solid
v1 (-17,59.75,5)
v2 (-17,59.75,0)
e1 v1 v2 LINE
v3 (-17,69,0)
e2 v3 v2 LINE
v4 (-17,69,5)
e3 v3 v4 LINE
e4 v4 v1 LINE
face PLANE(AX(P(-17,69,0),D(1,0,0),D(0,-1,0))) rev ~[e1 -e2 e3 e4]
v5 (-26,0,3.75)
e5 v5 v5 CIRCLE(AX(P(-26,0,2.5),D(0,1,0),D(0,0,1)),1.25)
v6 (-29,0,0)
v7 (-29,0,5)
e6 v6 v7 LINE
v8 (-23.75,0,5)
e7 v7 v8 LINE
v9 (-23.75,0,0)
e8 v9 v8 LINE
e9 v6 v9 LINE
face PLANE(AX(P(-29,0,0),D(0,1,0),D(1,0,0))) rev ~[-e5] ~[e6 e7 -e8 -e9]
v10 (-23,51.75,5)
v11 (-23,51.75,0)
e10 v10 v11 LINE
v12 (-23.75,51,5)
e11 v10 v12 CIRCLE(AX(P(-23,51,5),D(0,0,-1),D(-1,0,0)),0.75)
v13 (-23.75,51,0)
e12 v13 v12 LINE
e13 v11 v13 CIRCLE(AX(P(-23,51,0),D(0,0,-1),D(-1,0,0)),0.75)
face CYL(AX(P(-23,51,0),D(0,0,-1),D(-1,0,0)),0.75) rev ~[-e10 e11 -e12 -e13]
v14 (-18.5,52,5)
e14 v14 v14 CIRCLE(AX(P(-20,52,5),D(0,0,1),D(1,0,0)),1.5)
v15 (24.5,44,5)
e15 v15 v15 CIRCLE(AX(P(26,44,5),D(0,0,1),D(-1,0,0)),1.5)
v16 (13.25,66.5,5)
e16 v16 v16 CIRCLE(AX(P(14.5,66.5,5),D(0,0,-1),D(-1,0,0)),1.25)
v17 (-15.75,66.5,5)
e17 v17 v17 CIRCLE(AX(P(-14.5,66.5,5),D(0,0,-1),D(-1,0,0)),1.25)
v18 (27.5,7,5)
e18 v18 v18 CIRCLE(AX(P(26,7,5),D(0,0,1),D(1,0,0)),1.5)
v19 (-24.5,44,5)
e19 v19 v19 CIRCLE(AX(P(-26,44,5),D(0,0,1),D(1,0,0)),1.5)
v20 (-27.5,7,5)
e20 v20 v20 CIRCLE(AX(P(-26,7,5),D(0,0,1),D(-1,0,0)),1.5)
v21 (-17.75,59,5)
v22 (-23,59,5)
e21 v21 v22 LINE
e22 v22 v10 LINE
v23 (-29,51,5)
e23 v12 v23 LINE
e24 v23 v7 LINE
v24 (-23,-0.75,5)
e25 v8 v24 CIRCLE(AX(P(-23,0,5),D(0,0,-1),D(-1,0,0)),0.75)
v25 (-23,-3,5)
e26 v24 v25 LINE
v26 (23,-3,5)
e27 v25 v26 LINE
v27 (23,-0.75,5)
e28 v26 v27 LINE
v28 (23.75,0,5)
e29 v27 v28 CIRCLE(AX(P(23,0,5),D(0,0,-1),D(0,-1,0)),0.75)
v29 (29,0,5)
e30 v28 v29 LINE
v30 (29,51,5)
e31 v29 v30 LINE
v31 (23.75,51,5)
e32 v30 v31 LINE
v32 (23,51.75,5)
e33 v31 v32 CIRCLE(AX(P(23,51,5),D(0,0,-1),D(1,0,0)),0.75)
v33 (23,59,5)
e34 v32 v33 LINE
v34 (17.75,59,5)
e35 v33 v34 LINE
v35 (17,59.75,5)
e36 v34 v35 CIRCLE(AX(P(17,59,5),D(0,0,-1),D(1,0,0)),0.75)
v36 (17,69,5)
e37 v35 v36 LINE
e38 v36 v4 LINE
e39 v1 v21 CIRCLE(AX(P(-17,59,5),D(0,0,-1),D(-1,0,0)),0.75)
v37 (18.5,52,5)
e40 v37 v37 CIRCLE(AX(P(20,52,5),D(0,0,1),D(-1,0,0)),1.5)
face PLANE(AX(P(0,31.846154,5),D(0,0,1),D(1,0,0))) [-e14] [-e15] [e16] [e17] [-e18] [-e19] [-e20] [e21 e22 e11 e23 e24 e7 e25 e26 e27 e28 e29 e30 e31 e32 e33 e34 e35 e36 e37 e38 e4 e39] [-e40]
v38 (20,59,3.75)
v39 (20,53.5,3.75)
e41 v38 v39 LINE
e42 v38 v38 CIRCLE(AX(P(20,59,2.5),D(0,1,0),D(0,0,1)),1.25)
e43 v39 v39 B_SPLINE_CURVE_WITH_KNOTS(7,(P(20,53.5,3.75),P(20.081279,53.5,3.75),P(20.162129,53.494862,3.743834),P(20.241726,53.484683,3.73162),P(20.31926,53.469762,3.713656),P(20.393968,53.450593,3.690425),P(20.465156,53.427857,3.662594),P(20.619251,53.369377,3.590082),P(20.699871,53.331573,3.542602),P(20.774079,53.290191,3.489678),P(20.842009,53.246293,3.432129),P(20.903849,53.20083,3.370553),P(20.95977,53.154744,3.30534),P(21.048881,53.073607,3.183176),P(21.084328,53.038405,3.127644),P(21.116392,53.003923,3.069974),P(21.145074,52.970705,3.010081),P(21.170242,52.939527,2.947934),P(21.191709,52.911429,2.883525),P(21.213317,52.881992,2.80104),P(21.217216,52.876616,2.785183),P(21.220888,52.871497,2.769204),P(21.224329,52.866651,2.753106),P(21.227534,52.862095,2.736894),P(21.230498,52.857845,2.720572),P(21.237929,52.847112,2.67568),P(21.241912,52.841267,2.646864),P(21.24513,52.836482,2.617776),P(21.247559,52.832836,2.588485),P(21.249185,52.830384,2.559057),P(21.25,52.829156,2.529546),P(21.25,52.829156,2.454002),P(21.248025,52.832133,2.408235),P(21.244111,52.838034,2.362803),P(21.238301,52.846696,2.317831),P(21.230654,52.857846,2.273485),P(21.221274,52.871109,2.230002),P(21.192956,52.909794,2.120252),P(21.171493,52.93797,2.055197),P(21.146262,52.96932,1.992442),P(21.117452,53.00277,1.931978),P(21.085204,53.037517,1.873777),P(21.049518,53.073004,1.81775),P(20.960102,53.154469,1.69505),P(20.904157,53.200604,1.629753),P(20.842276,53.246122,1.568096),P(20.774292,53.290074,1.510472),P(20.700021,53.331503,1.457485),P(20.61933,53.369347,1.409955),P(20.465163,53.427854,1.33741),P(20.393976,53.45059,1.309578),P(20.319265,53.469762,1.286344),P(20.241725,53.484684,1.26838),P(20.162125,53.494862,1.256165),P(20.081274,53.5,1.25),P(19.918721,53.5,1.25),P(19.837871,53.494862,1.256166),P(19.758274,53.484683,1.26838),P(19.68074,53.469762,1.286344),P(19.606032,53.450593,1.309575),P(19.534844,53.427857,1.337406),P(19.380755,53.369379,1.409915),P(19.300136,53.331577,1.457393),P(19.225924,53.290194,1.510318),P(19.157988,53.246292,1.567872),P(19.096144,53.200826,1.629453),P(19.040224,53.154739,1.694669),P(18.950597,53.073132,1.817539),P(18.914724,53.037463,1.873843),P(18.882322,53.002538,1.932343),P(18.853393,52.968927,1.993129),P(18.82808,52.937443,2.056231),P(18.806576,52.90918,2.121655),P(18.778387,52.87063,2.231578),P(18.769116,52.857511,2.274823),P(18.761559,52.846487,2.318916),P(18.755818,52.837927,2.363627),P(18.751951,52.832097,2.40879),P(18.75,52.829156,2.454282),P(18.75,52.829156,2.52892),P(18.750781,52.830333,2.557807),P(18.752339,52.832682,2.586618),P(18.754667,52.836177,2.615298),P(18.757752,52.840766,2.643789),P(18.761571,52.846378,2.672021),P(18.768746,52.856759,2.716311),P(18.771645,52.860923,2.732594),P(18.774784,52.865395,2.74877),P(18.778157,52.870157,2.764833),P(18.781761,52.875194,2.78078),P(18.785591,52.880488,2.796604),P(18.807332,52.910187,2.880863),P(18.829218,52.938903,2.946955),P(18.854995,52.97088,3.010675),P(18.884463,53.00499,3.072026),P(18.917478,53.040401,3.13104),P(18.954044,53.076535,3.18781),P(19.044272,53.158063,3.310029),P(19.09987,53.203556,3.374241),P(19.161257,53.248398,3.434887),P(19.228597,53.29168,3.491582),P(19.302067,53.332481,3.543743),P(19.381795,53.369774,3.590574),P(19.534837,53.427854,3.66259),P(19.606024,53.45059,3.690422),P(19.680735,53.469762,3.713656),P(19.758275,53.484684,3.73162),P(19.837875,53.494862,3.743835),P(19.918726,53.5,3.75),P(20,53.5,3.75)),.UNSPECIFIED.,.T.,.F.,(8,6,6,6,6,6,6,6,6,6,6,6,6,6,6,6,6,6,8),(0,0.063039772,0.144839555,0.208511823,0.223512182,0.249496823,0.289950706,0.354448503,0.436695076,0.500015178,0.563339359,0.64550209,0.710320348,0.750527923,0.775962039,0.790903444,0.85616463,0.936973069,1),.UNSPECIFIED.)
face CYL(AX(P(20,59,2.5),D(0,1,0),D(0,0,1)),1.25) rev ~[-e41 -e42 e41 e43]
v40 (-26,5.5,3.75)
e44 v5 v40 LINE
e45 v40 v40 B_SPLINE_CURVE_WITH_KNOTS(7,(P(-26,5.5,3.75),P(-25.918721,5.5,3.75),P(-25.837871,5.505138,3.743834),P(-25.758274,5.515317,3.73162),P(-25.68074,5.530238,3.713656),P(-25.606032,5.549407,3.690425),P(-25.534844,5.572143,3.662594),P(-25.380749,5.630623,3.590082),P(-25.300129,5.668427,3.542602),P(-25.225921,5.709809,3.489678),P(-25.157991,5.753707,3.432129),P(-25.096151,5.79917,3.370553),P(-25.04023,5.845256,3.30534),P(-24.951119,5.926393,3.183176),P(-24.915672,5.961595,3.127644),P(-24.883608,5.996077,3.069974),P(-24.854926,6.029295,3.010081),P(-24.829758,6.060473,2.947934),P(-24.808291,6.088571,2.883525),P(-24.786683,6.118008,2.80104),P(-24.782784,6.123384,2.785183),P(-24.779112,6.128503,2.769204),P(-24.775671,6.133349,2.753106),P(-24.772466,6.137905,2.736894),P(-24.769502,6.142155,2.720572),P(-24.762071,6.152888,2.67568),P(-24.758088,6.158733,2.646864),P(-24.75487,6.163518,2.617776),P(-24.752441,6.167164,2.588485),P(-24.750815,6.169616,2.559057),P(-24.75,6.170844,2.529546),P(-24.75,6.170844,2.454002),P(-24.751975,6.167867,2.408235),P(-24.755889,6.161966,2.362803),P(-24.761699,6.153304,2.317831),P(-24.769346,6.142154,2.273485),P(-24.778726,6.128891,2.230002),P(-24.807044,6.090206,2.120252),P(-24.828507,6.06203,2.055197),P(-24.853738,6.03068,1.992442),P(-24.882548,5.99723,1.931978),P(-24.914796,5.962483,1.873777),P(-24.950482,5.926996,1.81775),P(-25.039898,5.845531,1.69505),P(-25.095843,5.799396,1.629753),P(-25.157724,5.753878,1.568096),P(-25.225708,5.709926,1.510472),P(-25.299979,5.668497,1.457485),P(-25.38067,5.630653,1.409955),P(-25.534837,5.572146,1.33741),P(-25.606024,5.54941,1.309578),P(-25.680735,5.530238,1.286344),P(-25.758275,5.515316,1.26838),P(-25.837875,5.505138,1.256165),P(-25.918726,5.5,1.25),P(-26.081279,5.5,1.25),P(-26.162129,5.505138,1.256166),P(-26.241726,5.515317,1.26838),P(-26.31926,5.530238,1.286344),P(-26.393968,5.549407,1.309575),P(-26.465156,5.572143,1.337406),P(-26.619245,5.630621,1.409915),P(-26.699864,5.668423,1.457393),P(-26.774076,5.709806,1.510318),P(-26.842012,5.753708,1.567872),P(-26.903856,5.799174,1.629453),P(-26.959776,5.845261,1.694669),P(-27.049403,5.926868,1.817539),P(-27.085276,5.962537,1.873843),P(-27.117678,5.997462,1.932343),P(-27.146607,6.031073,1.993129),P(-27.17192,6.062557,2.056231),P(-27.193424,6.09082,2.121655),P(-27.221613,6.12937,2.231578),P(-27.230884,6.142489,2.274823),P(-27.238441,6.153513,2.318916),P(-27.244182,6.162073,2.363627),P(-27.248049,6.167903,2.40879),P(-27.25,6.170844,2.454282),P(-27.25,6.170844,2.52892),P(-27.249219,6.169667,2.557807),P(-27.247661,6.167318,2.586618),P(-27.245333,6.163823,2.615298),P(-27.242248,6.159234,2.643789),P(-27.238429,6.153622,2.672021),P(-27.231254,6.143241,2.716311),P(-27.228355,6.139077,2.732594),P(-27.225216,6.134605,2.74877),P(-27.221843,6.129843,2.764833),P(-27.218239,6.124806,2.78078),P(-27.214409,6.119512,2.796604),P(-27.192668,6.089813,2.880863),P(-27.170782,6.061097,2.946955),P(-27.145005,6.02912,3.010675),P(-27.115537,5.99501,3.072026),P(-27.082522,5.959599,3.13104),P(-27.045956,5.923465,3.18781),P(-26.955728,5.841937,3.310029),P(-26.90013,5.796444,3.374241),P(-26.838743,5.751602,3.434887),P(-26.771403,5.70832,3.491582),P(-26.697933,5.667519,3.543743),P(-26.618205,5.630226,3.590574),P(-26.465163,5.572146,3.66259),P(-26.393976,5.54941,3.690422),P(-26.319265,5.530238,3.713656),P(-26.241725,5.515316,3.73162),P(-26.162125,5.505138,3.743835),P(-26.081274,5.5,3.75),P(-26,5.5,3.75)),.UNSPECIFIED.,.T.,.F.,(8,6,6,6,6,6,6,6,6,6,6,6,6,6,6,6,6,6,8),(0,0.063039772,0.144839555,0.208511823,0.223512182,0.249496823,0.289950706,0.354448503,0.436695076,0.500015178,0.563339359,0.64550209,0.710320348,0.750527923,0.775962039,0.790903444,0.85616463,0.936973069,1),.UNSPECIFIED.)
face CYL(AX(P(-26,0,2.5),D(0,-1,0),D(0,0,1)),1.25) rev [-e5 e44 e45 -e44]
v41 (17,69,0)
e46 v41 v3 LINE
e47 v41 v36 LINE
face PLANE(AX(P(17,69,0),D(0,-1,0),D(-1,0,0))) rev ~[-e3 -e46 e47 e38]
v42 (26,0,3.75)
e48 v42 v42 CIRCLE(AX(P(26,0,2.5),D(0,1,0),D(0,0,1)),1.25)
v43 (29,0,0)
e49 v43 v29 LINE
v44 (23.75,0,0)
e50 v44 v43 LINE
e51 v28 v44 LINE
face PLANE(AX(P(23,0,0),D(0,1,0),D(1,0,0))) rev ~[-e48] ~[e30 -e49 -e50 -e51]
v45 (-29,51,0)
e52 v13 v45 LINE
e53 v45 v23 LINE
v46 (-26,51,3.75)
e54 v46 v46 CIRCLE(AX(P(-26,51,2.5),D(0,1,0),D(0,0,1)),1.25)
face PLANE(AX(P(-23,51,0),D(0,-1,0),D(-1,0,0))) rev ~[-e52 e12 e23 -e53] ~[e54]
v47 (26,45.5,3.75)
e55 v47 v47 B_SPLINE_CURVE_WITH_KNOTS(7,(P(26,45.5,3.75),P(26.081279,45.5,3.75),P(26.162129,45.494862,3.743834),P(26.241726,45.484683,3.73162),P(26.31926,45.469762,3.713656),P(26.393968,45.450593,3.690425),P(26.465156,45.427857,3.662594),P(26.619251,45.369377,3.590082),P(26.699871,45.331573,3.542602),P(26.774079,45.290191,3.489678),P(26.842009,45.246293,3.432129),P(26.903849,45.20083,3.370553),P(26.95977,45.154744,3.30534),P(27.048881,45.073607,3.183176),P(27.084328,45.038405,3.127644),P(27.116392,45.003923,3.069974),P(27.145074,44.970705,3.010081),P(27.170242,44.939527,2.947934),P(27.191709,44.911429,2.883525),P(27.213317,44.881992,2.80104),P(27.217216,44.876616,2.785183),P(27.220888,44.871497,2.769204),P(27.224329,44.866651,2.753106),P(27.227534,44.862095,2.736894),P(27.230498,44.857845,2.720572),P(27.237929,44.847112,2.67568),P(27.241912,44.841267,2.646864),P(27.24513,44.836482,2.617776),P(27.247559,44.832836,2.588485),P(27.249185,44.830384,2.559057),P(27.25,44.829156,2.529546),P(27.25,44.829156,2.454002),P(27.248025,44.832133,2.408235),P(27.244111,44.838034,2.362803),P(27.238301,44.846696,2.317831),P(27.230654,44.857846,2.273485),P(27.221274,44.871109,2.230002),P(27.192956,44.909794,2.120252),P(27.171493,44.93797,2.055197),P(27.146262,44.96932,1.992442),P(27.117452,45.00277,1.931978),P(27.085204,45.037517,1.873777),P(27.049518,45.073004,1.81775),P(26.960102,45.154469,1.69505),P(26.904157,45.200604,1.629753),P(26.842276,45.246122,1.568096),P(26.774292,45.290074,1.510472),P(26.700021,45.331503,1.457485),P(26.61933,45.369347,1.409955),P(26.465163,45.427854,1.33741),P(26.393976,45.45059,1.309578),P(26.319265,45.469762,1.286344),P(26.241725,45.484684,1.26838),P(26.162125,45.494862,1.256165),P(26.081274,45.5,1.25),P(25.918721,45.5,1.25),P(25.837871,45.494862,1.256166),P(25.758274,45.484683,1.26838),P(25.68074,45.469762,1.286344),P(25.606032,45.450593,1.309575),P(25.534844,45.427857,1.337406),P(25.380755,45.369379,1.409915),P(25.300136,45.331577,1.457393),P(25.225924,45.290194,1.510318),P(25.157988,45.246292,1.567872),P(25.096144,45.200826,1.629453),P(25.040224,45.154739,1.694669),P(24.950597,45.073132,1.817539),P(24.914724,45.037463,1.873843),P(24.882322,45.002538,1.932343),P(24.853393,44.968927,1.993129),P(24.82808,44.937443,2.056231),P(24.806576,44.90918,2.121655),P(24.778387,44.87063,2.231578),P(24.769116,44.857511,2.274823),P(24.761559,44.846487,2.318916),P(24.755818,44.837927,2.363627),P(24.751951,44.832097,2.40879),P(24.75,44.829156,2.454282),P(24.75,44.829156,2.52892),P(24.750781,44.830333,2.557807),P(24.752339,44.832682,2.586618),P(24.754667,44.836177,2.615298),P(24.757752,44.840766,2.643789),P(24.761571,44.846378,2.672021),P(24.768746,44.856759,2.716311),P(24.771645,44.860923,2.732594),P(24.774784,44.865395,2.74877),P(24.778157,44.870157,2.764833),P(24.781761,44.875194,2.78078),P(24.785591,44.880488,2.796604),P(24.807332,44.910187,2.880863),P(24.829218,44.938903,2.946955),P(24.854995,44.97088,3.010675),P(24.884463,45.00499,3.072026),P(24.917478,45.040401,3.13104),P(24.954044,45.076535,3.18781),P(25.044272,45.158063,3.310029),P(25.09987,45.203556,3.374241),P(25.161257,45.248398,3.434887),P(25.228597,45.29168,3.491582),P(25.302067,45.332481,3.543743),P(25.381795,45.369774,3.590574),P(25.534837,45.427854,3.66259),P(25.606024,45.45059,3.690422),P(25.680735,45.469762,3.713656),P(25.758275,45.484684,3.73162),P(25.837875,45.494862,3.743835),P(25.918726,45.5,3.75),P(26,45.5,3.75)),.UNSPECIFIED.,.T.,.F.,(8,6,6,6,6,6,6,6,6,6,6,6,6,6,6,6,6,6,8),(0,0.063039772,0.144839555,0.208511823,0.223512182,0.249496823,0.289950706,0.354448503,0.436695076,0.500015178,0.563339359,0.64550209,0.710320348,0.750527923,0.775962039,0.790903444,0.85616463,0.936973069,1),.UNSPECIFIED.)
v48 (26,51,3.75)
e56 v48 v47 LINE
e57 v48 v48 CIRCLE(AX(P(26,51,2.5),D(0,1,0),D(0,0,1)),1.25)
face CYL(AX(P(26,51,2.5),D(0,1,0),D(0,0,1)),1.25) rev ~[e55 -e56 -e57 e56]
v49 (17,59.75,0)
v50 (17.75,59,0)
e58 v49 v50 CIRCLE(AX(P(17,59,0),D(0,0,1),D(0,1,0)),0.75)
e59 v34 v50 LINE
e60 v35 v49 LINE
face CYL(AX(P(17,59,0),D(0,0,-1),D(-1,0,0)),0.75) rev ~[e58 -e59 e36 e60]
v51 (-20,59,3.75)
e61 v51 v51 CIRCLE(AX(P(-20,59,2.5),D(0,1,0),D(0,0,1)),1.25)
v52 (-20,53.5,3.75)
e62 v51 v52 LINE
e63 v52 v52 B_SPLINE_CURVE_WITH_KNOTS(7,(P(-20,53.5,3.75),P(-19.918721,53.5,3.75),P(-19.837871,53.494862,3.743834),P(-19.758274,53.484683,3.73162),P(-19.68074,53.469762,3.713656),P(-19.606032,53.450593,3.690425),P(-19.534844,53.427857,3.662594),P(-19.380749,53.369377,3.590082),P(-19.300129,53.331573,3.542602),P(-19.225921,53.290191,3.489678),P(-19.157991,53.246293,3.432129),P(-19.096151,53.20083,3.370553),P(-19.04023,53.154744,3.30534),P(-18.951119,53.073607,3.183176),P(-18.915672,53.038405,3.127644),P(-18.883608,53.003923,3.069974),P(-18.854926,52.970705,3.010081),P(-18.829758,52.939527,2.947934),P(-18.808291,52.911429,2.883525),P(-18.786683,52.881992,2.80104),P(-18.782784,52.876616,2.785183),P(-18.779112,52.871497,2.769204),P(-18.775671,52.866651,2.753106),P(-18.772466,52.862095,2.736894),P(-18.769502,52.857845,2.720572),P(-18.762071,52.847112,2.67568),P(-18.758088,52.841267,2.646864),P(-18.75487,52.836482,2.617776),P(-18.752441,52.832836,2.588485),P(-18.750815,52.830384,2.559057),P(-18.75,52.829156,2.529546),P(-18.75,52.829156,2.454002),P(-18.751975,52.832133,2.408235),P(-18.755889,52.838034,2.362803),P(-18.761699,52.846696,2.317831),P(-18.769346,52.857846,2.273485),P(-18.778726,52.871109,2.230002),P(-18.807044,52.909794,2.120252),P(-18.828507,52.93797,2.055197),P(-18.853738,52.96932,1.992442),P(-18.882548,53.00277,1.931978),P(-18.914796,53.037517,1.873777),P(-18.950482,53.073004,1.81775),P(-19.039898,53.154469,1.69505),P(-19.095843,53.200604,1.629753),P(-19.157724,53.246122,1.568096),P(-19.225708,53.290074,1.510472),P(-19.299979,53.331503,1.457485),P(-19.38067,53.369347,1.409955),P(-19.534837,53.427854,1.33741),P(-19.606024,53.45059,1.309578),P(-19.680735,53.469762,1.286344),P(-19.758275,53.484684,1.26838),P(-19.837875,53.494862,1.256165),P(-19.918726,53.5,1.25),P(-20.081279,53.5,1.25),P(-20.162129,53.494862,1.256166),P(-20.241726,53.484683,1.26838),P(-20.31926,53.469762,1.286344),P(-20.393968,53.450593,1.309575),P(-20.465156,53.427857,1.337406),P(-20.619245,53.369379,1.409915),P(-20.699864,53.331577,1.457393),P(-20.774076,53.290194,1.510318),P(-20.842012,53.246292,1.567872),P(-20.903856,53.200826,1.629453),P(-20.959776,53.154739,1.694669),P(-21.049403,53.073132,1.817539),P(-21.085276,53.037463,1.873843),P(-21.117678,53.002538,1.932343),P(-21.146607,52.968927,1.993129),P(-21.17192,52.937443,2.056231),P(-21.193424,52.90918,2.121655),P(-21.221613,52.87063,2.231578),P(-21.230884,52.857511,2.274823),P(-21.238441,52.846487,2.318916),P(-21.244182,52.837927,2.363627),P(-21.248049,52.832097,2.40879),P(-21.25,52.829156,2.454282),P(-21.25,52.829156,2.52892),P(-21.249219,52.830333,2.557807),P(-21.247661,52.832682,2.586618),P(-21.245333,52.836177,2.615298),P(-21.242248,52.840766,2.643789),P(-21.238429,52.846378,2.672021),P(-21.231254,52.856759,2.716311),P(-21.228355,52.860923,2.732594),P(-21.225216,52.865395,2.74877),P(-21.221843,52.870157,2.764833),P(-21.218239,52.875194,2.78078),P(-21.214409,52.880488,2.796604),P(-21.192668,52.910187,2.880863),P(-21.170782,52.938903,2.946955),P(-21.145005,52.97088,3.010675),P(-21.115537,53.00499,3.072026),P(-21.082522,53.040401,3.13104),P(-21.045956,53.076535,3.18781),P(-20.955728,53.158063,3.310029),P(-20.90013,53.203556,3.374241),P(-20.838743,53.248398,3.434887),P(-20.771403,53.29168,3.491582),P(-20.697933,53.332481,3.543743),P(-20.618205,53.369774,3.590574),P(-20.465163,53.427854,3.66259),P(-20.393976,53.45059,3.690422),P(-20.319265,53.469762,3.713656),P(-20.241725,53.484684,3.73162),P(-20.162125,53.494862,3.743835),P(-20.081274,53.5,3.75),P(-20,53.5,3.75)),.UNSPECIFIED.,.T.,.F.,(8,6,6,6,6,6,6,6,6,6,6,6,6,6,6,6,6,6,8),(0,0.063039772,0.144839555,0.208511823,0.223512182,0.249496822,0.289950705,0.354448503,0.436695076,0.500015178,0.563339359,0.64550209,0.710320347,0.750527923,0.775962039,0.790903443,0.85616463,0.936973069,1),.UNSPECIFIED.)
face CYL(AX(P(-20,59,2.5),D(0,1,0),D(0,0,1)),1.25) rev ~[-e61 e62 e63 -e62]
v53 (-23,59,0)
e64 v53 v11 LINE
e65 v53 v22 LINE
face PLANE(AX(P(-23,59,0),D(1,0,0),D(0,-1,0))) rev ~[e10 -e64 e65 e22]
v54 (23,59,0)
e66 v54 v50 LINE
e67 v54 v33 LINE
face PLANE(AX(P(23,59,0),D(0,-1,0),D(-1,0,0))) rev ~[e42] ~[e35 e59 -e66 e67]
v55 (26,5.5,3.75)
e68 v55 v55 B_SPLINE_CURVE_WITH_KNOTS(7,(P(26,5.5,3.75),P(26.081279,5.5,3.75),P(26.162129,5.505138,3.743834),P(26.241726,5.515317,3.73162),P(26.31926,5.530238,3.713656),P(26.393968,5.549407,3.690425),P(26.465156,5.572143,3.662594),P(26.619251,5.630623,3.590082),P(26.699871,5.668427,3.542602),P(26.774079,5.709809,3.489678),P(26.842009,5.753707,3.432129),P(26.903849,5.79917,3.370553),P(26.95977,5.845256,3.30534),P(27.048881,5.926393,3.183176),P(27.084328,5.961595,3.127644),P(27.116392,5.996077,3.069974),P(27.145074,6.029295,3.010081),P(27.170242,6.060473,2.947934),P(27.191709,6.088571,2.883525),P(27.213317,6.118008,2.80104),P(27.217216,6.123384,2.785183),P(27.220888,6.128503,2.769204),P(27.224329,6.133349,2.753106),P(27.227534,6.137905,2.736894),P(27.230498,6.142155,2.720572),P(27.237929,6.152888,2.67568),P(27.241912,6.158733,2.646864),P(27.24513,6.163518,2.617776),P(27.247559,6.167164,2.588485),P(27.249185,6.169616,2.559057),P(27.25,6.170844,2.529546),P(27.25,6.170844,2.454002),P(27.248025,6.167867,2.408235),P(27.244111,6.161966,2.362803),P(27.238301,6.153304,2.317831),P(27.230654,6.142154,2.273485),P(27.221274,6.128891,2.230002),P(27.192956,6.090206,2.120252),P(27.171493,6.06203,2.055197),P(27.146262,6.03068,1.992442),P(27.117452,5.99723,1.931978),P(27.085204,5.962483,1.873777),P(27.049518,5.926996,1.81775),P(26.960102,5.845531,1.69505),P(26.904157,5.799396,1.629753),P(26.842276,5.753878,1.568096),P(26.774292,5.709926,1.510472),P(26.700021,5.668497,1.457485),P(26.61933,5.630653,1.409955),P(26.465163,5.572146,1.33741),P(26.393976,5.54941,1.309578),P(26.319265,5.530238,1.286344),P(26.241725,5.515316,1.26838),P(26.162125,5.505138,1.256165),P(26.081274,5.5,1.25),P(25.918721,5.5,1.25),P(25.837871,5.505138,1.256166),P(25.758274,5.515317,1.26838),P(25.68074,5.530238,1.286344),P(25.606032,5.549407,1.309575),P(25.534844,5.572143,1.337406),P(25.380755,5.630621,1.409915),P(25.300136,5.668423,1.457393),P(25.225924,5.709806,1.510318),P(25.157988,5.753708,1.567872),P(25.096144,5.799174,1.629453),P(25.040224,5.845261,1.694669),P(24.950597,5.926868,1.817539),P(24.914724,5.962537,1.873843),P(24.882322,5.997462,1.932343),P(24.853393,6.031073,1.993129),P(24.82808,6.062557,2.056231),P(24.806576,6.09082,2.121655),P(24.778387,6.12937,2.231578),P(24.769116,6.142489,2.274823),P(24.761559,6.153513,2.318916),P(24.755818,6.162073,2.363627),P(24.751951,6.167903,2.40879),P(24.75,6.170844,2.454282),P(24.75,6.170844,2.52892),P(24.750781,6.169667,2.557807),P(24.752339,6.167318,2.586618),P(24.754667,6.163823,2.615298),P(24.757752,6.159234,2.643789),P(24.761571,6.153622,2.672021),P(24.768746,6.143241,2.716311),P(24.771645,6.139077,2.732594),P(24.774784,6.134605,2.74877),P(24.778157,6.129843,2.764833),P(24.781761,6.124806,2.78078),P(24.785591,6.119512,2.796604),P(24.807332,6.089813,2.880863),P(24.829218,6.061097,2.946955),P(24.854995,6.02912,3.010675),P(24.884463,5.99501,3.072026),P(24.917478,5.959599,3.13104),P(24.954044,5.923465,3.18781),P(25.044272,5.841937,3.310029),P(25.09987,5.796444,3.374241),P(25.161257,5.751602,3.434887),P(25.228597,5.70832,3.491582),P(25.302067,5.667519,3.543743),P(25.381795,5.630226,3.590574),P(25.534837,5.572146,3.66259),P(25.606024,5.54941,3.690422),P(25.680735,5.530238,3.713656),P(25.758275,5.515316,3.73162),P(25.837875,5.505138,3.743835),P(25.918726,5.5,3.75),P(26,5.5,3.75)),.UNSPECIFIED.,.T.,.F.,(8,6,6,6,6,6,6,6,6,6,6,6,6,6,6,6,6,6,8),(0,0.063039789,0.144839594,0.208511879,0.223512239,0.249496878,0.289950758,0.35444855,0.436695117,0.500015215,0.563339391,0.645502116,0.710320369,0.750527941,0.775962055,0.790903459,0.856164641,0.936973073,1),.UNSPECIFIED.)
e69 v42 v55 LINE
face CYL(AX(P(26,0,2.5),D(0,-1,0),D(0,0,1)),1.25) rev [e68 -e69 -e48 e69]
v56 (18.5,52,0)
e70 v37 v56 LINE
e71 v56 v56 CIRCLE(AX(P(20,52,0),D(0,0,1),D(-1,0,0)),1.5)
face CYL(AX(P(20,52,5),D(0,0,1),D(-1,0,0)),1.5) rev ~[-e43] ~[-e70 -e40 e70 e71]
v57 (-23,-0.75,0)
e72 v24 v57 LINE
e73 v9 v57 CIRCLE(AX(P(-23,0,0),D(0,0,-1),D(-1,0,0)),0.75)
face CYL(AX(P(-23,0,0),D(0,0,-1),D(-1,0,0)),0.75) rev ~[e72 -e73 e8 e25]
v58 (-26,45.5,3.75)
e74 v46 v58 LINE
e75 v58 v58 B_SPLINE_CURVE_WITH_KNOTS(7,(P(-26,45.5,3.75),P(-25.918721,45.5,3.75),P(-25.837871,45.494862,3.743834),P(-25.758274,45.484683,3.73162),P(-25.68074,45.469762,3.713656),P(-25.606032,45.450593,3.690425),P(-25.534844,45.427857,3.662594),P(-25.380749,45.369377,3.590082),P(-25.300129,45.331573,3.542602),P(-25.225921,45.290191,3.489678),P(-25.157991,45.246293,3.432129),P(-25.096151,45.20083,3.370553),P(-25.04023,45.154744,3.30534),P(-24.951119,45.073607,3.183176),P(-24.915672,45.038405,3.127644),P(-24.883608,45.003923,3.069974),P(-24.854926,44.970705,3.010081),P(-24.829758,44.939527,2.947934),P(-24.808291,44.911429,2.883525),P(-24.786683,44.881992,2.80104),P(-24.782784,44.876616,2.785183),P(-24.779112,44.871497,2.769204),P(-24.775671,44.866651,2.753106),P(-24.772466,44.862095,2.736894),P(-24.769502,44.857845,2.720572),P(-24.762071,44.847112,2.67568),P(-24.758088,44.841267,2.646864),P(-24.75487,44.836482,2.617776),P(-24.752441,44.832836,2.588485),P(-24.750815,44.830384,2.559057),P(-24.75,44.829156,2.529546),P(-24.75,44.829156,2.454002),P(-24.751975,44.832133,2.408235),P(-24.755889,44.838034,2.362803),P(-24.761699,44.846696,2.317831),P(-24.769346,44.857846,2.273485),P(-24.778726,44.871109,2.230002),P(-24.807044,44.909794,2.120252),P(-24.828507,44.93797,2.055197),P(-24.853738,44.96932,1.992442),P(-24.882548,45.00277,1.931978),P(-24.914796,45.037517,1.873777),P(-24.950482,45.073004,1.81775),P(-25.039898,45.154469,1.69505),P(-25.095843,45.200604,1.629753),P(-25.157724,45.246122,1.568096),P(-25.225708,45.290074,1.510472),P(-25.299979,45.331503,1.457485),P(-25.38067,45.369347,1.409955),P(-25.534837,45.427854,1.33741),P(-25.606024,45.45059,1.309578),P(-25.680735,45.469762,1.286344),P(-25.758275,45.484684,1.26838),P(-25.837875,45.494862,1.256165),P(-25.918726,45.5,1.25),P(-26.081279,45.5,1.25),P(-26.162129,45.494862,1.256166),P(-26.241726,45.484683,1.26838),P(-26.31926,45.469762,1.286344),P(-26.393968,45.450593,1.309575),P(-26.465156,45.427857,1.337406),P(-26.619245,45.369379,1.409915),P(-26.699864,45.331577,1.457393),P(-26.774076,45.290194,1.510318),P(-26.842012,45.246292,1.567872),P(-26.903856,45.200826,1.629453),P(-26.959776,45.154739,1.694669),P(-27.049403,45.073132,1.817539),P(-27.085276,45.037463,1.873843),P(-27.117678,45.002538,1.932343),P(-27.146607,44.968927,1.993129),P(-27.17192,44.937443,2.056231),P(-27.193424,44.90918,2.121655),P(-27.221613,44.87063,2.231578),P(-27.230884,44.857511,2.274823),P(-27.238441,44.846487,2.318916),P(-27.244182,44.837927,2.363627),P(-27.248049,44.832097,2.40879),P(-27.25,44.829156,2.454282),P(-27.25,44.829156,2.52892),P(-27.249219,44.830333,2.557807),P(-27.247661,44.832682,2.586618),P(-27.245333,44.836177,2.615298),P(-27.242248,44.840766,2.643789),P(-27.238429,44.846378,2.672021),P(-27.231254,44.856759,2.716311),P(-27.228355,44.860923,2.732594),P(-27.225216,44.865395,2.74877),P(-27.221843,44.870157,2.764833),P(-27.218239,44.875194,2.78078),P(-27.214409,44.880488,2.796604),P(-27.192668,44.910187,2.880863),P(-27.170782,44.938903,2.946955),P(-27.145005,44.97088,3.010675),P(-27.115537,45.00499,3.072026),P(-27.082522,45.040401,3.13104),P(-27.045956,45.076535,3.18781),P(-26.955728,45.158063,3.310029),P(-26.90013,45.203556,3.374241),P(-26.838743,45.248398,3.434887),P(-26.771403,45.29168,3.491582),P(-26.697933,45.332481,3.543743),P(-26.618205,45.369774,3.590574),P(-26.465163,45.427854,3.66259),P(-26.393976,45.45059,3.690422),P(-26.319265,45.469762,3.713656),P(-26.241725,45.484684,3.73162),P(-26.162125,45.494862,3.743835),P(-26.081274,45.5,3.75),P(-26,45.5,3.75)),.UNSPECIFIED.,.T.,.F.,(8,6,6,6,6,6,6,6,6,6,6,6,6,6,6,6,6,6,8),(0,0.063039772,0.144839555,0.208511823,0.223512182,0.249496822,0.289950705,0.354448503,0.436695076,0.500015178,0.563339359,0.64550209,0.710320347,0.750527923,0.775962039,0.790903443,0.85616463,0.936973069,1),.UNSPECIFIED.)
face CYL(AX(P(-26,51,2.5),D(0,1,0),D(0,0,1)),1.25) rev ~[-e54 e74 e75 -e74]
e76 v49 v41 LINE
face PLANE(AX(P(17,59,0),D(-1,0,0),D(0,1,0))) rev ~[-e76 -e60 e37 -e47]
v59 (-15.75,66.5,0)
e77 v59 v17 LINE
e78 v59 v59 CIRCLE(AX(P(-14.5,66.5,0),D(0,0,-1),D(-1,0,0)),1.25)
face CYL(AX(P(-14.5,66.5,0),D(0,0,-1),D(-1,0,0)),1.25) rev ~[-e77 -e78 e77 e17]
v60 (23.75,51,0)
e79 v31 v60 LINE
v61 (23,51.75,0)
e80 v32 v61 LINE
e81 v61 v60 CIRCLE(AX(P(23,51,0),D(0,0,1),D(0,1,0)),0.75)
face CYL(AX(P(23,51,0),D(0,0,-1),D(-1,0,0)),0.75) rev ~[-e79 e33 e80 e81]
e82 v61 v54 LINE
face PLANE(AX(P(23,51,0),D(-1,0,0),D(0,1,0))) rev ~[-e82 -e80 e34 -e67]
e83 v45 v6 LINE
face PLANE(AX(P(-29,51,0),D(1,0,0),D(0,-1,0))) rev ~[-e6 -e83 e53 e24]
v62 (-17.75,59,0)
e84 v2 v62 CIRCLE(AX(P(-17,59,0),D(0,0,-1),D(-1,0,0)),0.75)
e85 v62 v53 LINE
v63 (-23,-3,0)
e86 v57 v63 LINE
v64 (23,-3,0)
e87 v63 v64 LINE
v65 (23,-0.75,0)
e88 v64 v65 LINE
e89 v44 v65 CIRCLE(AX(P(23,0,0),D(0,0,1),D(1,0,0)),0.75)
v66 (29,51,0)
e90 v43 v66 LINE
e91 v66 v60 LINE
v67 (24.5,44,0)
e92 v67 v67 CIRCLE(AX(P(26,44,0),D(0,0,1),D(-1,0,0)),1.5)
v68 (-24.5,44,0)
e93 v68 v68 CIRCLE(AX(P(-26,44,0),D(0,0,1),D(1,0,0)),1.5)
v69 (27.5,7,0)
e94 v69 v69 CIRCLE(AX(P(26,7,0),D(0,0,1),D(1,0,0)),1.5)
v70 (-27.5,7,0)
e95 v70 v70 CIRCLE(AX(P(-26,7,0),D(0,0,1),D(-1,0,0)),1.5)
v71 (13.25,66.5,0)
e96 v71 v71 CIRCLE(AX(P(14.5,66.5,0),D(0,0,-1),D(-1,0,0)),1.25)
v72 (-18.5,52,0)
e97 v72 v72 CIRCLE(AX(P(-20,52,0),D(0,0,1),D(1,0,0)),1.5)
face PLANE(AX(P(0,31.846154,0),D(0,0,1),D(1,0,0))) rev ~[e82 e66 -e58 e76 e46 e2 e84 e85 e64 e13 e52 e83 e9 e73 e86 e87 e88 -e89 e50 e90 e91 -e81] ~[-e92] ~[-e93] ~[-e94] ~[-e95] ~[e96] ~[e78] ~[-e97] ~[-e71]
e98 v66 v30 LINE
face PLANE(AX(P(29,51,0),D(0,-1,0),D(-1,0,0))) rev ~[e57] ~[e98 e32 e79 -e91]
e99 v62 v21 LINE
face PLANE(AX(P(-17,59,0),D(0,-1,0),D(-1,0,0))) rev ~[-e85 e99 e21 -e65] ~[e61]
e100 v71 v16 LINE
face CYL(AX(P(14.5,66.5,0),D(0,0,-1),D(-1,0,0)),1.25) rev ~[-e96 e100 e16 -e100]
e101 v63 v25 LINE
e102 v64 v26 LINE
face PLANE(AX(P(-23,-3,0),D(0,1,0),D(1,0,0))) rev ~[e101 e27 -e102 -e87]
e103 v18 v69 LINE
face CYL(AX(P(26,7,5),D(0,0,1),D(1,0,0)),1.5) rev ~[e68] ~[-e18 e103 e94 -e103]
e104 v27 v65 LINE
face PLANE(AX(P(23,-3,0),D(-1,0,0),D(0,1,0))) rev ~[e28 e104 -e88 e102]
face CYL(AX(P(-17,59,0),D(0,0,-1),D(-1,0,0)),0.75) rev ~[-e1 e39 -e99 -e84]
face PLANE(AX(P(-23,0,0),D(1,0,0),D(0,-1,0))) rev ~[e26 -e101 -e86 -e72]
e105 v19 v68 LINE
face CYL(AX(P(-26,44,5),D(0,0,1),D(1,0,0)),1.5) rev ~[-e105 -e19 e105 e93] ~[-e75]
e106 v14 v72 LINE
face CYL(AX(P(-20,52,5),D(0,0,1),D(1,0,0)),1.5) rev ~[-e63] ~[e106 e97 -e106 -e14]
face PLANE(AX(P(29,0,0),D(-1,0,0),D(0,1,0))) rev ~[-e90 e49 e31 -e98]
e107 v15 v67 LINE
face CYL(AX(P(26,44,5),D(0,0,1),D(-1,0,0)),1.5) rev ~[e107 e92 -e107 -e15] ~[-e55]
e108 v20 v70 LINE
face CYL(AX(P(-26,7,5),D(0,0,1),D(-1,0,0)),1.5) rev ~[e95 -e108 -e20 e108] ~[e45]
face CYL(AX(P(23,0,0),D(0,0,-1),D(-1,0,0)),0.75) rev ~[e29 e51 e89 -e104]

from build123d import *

# Parameters (mm, degrees)
EXTRUDE_1_DEPTH     = 5
SKETCH_2_R          = 1.25
CUT_EXTRUDE_1_DEPTH = 7.5
SKETCH_3_R          = 1.25
CUT_EXTRUDE_2_DEPTH = 7.5
SKETCH_4_R          = 1.25
CUT_EXTRUDE_3_DEPTH = 76.013332148
SKETCH_5_R          = 0.75
CUT_EXTRUDE_4_DEPTH = 76.013332148
SKETCH_7_R          = 1.5
CUT_EXTRUDE_6_DEPTH = 76.013332148


with BuildPart() as part:
    # ｽｹｯﾁ1 → ﾎﾞｽ - 押し出し1 (new body)
    with BuildSketch(Plane.XY):
        Polygon((-29, 51), (-29, 0), (-23, 0), (-23, -3), (23, -3), (23, 0), (29, 0), (29, 51), (23, 51), (23, 59), (17, 59), (17, 69), (-17, 69), (-17, 59), (-23, 59), (-23, 51), align=None)
    extrude(amount=EXTRUDE_1_DEPTH)

    # ｽｹｯﾁ2 → ｶｯﾄ - 押し出し1 (cut)
    with BuildSketch(Plane(origin=(0, 59, 0), x_dir=(1, 0, 0), z_dir=(0, 1, 0))):
        with Locations(Location((-20, -2.5, 0), (0, 0, 270))):
            Circle(SKETCH_2_R)
        with Locations(Location((20, -2.5, 0), (0, 0, 270))):
            Circle(SKETCH_2_R)
    extrude(amount=-CUT_EXTRUDE_1_DEPTH, mode=Mode.SUBTRACT)

    # ｽｹｯﾁ3 → ｶｯﾄ - 押し出し2 (cut)
    with BuildSketch(Plane(origin=(0, 51, 0), x_dir=(1, 0, 0), z_dir=(0, 1, 0))):
        with Locations(Location((-26, -2.5, 0), (0, 0, 270))):
            Circle(SKETCH_3_R)
        with Locations(Location((26, -2.5, 0), (0, 0, 270))):
            Circle(SKETCH_3_R)
    cut_extrude_2 = extrude(amount=-CUT_EXTRUDE_2_DEPTH, mode=Mode.SUBTRACT)

    # ﾐﾗｰ1: ｶｯﾄ - 押し出し2 across plane
    add(cut_extrude_2.mirror(Plane.ZX.offset(25.5)), mode=Mode.SUBTRACT)

    # ｽｹｯﾁ4 → ｶｯﾄ - 押し出し3 (cut, through all)
    with BuildSketch(Plane(origin=(0, 0, 0), x_dir=(-1, 0, 0), z_dir=(0, 0, -1))):
        with Locations((-14.5, 66.5)):
            Circle(SKETCH_4_R)
        with Locations((14.5, 66.5)):
            Circle(SKETCH_4_R)
    extrude(amount=-CUT_EXTRUDE_3_DEPTH, mode=Mode.SUBTRACT)

    # ｽｹｯﾁ5 → ｶｯﾄ - 押し出し4 (cut, through all)
    with BuildSketch(Plane(origin=(0, 0, 0), x_dir=(-1, 0, 0), z_dir=(0, 0, -1))):
        with Locations((-17, 59)):
            Circle(SKETCH_5_R)
        with Locations((-23, 51)):
            Circle(SKETCH_5_R)
        with Locations((-23, 0)):
            Circle(SKETCH_5_R)
        with Locations((17, 59)):
            Circle(SKETCH_5_R)
        with Locations((23, 51)):
            Circle(SKETCH_5_R)
        with Locations((23, 0)):
            Circle(SKETCH_5_R)
    extrude(amount=-CUT_EXTRUDE_4_DEPTH, mode=Mode.SUBTRACT)

    # ｽｹｯﾁ7 → ｶｯﾄ - 押し出し6 (cut, through all)
    with BuildSketch(Plane.XY.offset(5)):
        with Locations((-26, 44)):
            Circle(SKETCH_7_R)
        with Locations(Location((-26, 7, 0), (0, 0, 180))):
            Circle(SKETCH_7_R)
        with Locations((-20, 52)):
            Circle(SKETCH_7_R)
        with Locations(Location((20, 52, 0), (0, 0, 180))):
            Circle(SKETCH_7_R)
        with Locations((26, 7)):
            Circle(SKETCH_7_R)
        with Locations(Location((26, 44, 0), (0, 0, 180))):
            Circle(SKETCH_7_R)
    extrude(amount=-CUT_EXTRUDE_6_DEPTH, mode=Mode.SUBTRACT)


solid = part.part
